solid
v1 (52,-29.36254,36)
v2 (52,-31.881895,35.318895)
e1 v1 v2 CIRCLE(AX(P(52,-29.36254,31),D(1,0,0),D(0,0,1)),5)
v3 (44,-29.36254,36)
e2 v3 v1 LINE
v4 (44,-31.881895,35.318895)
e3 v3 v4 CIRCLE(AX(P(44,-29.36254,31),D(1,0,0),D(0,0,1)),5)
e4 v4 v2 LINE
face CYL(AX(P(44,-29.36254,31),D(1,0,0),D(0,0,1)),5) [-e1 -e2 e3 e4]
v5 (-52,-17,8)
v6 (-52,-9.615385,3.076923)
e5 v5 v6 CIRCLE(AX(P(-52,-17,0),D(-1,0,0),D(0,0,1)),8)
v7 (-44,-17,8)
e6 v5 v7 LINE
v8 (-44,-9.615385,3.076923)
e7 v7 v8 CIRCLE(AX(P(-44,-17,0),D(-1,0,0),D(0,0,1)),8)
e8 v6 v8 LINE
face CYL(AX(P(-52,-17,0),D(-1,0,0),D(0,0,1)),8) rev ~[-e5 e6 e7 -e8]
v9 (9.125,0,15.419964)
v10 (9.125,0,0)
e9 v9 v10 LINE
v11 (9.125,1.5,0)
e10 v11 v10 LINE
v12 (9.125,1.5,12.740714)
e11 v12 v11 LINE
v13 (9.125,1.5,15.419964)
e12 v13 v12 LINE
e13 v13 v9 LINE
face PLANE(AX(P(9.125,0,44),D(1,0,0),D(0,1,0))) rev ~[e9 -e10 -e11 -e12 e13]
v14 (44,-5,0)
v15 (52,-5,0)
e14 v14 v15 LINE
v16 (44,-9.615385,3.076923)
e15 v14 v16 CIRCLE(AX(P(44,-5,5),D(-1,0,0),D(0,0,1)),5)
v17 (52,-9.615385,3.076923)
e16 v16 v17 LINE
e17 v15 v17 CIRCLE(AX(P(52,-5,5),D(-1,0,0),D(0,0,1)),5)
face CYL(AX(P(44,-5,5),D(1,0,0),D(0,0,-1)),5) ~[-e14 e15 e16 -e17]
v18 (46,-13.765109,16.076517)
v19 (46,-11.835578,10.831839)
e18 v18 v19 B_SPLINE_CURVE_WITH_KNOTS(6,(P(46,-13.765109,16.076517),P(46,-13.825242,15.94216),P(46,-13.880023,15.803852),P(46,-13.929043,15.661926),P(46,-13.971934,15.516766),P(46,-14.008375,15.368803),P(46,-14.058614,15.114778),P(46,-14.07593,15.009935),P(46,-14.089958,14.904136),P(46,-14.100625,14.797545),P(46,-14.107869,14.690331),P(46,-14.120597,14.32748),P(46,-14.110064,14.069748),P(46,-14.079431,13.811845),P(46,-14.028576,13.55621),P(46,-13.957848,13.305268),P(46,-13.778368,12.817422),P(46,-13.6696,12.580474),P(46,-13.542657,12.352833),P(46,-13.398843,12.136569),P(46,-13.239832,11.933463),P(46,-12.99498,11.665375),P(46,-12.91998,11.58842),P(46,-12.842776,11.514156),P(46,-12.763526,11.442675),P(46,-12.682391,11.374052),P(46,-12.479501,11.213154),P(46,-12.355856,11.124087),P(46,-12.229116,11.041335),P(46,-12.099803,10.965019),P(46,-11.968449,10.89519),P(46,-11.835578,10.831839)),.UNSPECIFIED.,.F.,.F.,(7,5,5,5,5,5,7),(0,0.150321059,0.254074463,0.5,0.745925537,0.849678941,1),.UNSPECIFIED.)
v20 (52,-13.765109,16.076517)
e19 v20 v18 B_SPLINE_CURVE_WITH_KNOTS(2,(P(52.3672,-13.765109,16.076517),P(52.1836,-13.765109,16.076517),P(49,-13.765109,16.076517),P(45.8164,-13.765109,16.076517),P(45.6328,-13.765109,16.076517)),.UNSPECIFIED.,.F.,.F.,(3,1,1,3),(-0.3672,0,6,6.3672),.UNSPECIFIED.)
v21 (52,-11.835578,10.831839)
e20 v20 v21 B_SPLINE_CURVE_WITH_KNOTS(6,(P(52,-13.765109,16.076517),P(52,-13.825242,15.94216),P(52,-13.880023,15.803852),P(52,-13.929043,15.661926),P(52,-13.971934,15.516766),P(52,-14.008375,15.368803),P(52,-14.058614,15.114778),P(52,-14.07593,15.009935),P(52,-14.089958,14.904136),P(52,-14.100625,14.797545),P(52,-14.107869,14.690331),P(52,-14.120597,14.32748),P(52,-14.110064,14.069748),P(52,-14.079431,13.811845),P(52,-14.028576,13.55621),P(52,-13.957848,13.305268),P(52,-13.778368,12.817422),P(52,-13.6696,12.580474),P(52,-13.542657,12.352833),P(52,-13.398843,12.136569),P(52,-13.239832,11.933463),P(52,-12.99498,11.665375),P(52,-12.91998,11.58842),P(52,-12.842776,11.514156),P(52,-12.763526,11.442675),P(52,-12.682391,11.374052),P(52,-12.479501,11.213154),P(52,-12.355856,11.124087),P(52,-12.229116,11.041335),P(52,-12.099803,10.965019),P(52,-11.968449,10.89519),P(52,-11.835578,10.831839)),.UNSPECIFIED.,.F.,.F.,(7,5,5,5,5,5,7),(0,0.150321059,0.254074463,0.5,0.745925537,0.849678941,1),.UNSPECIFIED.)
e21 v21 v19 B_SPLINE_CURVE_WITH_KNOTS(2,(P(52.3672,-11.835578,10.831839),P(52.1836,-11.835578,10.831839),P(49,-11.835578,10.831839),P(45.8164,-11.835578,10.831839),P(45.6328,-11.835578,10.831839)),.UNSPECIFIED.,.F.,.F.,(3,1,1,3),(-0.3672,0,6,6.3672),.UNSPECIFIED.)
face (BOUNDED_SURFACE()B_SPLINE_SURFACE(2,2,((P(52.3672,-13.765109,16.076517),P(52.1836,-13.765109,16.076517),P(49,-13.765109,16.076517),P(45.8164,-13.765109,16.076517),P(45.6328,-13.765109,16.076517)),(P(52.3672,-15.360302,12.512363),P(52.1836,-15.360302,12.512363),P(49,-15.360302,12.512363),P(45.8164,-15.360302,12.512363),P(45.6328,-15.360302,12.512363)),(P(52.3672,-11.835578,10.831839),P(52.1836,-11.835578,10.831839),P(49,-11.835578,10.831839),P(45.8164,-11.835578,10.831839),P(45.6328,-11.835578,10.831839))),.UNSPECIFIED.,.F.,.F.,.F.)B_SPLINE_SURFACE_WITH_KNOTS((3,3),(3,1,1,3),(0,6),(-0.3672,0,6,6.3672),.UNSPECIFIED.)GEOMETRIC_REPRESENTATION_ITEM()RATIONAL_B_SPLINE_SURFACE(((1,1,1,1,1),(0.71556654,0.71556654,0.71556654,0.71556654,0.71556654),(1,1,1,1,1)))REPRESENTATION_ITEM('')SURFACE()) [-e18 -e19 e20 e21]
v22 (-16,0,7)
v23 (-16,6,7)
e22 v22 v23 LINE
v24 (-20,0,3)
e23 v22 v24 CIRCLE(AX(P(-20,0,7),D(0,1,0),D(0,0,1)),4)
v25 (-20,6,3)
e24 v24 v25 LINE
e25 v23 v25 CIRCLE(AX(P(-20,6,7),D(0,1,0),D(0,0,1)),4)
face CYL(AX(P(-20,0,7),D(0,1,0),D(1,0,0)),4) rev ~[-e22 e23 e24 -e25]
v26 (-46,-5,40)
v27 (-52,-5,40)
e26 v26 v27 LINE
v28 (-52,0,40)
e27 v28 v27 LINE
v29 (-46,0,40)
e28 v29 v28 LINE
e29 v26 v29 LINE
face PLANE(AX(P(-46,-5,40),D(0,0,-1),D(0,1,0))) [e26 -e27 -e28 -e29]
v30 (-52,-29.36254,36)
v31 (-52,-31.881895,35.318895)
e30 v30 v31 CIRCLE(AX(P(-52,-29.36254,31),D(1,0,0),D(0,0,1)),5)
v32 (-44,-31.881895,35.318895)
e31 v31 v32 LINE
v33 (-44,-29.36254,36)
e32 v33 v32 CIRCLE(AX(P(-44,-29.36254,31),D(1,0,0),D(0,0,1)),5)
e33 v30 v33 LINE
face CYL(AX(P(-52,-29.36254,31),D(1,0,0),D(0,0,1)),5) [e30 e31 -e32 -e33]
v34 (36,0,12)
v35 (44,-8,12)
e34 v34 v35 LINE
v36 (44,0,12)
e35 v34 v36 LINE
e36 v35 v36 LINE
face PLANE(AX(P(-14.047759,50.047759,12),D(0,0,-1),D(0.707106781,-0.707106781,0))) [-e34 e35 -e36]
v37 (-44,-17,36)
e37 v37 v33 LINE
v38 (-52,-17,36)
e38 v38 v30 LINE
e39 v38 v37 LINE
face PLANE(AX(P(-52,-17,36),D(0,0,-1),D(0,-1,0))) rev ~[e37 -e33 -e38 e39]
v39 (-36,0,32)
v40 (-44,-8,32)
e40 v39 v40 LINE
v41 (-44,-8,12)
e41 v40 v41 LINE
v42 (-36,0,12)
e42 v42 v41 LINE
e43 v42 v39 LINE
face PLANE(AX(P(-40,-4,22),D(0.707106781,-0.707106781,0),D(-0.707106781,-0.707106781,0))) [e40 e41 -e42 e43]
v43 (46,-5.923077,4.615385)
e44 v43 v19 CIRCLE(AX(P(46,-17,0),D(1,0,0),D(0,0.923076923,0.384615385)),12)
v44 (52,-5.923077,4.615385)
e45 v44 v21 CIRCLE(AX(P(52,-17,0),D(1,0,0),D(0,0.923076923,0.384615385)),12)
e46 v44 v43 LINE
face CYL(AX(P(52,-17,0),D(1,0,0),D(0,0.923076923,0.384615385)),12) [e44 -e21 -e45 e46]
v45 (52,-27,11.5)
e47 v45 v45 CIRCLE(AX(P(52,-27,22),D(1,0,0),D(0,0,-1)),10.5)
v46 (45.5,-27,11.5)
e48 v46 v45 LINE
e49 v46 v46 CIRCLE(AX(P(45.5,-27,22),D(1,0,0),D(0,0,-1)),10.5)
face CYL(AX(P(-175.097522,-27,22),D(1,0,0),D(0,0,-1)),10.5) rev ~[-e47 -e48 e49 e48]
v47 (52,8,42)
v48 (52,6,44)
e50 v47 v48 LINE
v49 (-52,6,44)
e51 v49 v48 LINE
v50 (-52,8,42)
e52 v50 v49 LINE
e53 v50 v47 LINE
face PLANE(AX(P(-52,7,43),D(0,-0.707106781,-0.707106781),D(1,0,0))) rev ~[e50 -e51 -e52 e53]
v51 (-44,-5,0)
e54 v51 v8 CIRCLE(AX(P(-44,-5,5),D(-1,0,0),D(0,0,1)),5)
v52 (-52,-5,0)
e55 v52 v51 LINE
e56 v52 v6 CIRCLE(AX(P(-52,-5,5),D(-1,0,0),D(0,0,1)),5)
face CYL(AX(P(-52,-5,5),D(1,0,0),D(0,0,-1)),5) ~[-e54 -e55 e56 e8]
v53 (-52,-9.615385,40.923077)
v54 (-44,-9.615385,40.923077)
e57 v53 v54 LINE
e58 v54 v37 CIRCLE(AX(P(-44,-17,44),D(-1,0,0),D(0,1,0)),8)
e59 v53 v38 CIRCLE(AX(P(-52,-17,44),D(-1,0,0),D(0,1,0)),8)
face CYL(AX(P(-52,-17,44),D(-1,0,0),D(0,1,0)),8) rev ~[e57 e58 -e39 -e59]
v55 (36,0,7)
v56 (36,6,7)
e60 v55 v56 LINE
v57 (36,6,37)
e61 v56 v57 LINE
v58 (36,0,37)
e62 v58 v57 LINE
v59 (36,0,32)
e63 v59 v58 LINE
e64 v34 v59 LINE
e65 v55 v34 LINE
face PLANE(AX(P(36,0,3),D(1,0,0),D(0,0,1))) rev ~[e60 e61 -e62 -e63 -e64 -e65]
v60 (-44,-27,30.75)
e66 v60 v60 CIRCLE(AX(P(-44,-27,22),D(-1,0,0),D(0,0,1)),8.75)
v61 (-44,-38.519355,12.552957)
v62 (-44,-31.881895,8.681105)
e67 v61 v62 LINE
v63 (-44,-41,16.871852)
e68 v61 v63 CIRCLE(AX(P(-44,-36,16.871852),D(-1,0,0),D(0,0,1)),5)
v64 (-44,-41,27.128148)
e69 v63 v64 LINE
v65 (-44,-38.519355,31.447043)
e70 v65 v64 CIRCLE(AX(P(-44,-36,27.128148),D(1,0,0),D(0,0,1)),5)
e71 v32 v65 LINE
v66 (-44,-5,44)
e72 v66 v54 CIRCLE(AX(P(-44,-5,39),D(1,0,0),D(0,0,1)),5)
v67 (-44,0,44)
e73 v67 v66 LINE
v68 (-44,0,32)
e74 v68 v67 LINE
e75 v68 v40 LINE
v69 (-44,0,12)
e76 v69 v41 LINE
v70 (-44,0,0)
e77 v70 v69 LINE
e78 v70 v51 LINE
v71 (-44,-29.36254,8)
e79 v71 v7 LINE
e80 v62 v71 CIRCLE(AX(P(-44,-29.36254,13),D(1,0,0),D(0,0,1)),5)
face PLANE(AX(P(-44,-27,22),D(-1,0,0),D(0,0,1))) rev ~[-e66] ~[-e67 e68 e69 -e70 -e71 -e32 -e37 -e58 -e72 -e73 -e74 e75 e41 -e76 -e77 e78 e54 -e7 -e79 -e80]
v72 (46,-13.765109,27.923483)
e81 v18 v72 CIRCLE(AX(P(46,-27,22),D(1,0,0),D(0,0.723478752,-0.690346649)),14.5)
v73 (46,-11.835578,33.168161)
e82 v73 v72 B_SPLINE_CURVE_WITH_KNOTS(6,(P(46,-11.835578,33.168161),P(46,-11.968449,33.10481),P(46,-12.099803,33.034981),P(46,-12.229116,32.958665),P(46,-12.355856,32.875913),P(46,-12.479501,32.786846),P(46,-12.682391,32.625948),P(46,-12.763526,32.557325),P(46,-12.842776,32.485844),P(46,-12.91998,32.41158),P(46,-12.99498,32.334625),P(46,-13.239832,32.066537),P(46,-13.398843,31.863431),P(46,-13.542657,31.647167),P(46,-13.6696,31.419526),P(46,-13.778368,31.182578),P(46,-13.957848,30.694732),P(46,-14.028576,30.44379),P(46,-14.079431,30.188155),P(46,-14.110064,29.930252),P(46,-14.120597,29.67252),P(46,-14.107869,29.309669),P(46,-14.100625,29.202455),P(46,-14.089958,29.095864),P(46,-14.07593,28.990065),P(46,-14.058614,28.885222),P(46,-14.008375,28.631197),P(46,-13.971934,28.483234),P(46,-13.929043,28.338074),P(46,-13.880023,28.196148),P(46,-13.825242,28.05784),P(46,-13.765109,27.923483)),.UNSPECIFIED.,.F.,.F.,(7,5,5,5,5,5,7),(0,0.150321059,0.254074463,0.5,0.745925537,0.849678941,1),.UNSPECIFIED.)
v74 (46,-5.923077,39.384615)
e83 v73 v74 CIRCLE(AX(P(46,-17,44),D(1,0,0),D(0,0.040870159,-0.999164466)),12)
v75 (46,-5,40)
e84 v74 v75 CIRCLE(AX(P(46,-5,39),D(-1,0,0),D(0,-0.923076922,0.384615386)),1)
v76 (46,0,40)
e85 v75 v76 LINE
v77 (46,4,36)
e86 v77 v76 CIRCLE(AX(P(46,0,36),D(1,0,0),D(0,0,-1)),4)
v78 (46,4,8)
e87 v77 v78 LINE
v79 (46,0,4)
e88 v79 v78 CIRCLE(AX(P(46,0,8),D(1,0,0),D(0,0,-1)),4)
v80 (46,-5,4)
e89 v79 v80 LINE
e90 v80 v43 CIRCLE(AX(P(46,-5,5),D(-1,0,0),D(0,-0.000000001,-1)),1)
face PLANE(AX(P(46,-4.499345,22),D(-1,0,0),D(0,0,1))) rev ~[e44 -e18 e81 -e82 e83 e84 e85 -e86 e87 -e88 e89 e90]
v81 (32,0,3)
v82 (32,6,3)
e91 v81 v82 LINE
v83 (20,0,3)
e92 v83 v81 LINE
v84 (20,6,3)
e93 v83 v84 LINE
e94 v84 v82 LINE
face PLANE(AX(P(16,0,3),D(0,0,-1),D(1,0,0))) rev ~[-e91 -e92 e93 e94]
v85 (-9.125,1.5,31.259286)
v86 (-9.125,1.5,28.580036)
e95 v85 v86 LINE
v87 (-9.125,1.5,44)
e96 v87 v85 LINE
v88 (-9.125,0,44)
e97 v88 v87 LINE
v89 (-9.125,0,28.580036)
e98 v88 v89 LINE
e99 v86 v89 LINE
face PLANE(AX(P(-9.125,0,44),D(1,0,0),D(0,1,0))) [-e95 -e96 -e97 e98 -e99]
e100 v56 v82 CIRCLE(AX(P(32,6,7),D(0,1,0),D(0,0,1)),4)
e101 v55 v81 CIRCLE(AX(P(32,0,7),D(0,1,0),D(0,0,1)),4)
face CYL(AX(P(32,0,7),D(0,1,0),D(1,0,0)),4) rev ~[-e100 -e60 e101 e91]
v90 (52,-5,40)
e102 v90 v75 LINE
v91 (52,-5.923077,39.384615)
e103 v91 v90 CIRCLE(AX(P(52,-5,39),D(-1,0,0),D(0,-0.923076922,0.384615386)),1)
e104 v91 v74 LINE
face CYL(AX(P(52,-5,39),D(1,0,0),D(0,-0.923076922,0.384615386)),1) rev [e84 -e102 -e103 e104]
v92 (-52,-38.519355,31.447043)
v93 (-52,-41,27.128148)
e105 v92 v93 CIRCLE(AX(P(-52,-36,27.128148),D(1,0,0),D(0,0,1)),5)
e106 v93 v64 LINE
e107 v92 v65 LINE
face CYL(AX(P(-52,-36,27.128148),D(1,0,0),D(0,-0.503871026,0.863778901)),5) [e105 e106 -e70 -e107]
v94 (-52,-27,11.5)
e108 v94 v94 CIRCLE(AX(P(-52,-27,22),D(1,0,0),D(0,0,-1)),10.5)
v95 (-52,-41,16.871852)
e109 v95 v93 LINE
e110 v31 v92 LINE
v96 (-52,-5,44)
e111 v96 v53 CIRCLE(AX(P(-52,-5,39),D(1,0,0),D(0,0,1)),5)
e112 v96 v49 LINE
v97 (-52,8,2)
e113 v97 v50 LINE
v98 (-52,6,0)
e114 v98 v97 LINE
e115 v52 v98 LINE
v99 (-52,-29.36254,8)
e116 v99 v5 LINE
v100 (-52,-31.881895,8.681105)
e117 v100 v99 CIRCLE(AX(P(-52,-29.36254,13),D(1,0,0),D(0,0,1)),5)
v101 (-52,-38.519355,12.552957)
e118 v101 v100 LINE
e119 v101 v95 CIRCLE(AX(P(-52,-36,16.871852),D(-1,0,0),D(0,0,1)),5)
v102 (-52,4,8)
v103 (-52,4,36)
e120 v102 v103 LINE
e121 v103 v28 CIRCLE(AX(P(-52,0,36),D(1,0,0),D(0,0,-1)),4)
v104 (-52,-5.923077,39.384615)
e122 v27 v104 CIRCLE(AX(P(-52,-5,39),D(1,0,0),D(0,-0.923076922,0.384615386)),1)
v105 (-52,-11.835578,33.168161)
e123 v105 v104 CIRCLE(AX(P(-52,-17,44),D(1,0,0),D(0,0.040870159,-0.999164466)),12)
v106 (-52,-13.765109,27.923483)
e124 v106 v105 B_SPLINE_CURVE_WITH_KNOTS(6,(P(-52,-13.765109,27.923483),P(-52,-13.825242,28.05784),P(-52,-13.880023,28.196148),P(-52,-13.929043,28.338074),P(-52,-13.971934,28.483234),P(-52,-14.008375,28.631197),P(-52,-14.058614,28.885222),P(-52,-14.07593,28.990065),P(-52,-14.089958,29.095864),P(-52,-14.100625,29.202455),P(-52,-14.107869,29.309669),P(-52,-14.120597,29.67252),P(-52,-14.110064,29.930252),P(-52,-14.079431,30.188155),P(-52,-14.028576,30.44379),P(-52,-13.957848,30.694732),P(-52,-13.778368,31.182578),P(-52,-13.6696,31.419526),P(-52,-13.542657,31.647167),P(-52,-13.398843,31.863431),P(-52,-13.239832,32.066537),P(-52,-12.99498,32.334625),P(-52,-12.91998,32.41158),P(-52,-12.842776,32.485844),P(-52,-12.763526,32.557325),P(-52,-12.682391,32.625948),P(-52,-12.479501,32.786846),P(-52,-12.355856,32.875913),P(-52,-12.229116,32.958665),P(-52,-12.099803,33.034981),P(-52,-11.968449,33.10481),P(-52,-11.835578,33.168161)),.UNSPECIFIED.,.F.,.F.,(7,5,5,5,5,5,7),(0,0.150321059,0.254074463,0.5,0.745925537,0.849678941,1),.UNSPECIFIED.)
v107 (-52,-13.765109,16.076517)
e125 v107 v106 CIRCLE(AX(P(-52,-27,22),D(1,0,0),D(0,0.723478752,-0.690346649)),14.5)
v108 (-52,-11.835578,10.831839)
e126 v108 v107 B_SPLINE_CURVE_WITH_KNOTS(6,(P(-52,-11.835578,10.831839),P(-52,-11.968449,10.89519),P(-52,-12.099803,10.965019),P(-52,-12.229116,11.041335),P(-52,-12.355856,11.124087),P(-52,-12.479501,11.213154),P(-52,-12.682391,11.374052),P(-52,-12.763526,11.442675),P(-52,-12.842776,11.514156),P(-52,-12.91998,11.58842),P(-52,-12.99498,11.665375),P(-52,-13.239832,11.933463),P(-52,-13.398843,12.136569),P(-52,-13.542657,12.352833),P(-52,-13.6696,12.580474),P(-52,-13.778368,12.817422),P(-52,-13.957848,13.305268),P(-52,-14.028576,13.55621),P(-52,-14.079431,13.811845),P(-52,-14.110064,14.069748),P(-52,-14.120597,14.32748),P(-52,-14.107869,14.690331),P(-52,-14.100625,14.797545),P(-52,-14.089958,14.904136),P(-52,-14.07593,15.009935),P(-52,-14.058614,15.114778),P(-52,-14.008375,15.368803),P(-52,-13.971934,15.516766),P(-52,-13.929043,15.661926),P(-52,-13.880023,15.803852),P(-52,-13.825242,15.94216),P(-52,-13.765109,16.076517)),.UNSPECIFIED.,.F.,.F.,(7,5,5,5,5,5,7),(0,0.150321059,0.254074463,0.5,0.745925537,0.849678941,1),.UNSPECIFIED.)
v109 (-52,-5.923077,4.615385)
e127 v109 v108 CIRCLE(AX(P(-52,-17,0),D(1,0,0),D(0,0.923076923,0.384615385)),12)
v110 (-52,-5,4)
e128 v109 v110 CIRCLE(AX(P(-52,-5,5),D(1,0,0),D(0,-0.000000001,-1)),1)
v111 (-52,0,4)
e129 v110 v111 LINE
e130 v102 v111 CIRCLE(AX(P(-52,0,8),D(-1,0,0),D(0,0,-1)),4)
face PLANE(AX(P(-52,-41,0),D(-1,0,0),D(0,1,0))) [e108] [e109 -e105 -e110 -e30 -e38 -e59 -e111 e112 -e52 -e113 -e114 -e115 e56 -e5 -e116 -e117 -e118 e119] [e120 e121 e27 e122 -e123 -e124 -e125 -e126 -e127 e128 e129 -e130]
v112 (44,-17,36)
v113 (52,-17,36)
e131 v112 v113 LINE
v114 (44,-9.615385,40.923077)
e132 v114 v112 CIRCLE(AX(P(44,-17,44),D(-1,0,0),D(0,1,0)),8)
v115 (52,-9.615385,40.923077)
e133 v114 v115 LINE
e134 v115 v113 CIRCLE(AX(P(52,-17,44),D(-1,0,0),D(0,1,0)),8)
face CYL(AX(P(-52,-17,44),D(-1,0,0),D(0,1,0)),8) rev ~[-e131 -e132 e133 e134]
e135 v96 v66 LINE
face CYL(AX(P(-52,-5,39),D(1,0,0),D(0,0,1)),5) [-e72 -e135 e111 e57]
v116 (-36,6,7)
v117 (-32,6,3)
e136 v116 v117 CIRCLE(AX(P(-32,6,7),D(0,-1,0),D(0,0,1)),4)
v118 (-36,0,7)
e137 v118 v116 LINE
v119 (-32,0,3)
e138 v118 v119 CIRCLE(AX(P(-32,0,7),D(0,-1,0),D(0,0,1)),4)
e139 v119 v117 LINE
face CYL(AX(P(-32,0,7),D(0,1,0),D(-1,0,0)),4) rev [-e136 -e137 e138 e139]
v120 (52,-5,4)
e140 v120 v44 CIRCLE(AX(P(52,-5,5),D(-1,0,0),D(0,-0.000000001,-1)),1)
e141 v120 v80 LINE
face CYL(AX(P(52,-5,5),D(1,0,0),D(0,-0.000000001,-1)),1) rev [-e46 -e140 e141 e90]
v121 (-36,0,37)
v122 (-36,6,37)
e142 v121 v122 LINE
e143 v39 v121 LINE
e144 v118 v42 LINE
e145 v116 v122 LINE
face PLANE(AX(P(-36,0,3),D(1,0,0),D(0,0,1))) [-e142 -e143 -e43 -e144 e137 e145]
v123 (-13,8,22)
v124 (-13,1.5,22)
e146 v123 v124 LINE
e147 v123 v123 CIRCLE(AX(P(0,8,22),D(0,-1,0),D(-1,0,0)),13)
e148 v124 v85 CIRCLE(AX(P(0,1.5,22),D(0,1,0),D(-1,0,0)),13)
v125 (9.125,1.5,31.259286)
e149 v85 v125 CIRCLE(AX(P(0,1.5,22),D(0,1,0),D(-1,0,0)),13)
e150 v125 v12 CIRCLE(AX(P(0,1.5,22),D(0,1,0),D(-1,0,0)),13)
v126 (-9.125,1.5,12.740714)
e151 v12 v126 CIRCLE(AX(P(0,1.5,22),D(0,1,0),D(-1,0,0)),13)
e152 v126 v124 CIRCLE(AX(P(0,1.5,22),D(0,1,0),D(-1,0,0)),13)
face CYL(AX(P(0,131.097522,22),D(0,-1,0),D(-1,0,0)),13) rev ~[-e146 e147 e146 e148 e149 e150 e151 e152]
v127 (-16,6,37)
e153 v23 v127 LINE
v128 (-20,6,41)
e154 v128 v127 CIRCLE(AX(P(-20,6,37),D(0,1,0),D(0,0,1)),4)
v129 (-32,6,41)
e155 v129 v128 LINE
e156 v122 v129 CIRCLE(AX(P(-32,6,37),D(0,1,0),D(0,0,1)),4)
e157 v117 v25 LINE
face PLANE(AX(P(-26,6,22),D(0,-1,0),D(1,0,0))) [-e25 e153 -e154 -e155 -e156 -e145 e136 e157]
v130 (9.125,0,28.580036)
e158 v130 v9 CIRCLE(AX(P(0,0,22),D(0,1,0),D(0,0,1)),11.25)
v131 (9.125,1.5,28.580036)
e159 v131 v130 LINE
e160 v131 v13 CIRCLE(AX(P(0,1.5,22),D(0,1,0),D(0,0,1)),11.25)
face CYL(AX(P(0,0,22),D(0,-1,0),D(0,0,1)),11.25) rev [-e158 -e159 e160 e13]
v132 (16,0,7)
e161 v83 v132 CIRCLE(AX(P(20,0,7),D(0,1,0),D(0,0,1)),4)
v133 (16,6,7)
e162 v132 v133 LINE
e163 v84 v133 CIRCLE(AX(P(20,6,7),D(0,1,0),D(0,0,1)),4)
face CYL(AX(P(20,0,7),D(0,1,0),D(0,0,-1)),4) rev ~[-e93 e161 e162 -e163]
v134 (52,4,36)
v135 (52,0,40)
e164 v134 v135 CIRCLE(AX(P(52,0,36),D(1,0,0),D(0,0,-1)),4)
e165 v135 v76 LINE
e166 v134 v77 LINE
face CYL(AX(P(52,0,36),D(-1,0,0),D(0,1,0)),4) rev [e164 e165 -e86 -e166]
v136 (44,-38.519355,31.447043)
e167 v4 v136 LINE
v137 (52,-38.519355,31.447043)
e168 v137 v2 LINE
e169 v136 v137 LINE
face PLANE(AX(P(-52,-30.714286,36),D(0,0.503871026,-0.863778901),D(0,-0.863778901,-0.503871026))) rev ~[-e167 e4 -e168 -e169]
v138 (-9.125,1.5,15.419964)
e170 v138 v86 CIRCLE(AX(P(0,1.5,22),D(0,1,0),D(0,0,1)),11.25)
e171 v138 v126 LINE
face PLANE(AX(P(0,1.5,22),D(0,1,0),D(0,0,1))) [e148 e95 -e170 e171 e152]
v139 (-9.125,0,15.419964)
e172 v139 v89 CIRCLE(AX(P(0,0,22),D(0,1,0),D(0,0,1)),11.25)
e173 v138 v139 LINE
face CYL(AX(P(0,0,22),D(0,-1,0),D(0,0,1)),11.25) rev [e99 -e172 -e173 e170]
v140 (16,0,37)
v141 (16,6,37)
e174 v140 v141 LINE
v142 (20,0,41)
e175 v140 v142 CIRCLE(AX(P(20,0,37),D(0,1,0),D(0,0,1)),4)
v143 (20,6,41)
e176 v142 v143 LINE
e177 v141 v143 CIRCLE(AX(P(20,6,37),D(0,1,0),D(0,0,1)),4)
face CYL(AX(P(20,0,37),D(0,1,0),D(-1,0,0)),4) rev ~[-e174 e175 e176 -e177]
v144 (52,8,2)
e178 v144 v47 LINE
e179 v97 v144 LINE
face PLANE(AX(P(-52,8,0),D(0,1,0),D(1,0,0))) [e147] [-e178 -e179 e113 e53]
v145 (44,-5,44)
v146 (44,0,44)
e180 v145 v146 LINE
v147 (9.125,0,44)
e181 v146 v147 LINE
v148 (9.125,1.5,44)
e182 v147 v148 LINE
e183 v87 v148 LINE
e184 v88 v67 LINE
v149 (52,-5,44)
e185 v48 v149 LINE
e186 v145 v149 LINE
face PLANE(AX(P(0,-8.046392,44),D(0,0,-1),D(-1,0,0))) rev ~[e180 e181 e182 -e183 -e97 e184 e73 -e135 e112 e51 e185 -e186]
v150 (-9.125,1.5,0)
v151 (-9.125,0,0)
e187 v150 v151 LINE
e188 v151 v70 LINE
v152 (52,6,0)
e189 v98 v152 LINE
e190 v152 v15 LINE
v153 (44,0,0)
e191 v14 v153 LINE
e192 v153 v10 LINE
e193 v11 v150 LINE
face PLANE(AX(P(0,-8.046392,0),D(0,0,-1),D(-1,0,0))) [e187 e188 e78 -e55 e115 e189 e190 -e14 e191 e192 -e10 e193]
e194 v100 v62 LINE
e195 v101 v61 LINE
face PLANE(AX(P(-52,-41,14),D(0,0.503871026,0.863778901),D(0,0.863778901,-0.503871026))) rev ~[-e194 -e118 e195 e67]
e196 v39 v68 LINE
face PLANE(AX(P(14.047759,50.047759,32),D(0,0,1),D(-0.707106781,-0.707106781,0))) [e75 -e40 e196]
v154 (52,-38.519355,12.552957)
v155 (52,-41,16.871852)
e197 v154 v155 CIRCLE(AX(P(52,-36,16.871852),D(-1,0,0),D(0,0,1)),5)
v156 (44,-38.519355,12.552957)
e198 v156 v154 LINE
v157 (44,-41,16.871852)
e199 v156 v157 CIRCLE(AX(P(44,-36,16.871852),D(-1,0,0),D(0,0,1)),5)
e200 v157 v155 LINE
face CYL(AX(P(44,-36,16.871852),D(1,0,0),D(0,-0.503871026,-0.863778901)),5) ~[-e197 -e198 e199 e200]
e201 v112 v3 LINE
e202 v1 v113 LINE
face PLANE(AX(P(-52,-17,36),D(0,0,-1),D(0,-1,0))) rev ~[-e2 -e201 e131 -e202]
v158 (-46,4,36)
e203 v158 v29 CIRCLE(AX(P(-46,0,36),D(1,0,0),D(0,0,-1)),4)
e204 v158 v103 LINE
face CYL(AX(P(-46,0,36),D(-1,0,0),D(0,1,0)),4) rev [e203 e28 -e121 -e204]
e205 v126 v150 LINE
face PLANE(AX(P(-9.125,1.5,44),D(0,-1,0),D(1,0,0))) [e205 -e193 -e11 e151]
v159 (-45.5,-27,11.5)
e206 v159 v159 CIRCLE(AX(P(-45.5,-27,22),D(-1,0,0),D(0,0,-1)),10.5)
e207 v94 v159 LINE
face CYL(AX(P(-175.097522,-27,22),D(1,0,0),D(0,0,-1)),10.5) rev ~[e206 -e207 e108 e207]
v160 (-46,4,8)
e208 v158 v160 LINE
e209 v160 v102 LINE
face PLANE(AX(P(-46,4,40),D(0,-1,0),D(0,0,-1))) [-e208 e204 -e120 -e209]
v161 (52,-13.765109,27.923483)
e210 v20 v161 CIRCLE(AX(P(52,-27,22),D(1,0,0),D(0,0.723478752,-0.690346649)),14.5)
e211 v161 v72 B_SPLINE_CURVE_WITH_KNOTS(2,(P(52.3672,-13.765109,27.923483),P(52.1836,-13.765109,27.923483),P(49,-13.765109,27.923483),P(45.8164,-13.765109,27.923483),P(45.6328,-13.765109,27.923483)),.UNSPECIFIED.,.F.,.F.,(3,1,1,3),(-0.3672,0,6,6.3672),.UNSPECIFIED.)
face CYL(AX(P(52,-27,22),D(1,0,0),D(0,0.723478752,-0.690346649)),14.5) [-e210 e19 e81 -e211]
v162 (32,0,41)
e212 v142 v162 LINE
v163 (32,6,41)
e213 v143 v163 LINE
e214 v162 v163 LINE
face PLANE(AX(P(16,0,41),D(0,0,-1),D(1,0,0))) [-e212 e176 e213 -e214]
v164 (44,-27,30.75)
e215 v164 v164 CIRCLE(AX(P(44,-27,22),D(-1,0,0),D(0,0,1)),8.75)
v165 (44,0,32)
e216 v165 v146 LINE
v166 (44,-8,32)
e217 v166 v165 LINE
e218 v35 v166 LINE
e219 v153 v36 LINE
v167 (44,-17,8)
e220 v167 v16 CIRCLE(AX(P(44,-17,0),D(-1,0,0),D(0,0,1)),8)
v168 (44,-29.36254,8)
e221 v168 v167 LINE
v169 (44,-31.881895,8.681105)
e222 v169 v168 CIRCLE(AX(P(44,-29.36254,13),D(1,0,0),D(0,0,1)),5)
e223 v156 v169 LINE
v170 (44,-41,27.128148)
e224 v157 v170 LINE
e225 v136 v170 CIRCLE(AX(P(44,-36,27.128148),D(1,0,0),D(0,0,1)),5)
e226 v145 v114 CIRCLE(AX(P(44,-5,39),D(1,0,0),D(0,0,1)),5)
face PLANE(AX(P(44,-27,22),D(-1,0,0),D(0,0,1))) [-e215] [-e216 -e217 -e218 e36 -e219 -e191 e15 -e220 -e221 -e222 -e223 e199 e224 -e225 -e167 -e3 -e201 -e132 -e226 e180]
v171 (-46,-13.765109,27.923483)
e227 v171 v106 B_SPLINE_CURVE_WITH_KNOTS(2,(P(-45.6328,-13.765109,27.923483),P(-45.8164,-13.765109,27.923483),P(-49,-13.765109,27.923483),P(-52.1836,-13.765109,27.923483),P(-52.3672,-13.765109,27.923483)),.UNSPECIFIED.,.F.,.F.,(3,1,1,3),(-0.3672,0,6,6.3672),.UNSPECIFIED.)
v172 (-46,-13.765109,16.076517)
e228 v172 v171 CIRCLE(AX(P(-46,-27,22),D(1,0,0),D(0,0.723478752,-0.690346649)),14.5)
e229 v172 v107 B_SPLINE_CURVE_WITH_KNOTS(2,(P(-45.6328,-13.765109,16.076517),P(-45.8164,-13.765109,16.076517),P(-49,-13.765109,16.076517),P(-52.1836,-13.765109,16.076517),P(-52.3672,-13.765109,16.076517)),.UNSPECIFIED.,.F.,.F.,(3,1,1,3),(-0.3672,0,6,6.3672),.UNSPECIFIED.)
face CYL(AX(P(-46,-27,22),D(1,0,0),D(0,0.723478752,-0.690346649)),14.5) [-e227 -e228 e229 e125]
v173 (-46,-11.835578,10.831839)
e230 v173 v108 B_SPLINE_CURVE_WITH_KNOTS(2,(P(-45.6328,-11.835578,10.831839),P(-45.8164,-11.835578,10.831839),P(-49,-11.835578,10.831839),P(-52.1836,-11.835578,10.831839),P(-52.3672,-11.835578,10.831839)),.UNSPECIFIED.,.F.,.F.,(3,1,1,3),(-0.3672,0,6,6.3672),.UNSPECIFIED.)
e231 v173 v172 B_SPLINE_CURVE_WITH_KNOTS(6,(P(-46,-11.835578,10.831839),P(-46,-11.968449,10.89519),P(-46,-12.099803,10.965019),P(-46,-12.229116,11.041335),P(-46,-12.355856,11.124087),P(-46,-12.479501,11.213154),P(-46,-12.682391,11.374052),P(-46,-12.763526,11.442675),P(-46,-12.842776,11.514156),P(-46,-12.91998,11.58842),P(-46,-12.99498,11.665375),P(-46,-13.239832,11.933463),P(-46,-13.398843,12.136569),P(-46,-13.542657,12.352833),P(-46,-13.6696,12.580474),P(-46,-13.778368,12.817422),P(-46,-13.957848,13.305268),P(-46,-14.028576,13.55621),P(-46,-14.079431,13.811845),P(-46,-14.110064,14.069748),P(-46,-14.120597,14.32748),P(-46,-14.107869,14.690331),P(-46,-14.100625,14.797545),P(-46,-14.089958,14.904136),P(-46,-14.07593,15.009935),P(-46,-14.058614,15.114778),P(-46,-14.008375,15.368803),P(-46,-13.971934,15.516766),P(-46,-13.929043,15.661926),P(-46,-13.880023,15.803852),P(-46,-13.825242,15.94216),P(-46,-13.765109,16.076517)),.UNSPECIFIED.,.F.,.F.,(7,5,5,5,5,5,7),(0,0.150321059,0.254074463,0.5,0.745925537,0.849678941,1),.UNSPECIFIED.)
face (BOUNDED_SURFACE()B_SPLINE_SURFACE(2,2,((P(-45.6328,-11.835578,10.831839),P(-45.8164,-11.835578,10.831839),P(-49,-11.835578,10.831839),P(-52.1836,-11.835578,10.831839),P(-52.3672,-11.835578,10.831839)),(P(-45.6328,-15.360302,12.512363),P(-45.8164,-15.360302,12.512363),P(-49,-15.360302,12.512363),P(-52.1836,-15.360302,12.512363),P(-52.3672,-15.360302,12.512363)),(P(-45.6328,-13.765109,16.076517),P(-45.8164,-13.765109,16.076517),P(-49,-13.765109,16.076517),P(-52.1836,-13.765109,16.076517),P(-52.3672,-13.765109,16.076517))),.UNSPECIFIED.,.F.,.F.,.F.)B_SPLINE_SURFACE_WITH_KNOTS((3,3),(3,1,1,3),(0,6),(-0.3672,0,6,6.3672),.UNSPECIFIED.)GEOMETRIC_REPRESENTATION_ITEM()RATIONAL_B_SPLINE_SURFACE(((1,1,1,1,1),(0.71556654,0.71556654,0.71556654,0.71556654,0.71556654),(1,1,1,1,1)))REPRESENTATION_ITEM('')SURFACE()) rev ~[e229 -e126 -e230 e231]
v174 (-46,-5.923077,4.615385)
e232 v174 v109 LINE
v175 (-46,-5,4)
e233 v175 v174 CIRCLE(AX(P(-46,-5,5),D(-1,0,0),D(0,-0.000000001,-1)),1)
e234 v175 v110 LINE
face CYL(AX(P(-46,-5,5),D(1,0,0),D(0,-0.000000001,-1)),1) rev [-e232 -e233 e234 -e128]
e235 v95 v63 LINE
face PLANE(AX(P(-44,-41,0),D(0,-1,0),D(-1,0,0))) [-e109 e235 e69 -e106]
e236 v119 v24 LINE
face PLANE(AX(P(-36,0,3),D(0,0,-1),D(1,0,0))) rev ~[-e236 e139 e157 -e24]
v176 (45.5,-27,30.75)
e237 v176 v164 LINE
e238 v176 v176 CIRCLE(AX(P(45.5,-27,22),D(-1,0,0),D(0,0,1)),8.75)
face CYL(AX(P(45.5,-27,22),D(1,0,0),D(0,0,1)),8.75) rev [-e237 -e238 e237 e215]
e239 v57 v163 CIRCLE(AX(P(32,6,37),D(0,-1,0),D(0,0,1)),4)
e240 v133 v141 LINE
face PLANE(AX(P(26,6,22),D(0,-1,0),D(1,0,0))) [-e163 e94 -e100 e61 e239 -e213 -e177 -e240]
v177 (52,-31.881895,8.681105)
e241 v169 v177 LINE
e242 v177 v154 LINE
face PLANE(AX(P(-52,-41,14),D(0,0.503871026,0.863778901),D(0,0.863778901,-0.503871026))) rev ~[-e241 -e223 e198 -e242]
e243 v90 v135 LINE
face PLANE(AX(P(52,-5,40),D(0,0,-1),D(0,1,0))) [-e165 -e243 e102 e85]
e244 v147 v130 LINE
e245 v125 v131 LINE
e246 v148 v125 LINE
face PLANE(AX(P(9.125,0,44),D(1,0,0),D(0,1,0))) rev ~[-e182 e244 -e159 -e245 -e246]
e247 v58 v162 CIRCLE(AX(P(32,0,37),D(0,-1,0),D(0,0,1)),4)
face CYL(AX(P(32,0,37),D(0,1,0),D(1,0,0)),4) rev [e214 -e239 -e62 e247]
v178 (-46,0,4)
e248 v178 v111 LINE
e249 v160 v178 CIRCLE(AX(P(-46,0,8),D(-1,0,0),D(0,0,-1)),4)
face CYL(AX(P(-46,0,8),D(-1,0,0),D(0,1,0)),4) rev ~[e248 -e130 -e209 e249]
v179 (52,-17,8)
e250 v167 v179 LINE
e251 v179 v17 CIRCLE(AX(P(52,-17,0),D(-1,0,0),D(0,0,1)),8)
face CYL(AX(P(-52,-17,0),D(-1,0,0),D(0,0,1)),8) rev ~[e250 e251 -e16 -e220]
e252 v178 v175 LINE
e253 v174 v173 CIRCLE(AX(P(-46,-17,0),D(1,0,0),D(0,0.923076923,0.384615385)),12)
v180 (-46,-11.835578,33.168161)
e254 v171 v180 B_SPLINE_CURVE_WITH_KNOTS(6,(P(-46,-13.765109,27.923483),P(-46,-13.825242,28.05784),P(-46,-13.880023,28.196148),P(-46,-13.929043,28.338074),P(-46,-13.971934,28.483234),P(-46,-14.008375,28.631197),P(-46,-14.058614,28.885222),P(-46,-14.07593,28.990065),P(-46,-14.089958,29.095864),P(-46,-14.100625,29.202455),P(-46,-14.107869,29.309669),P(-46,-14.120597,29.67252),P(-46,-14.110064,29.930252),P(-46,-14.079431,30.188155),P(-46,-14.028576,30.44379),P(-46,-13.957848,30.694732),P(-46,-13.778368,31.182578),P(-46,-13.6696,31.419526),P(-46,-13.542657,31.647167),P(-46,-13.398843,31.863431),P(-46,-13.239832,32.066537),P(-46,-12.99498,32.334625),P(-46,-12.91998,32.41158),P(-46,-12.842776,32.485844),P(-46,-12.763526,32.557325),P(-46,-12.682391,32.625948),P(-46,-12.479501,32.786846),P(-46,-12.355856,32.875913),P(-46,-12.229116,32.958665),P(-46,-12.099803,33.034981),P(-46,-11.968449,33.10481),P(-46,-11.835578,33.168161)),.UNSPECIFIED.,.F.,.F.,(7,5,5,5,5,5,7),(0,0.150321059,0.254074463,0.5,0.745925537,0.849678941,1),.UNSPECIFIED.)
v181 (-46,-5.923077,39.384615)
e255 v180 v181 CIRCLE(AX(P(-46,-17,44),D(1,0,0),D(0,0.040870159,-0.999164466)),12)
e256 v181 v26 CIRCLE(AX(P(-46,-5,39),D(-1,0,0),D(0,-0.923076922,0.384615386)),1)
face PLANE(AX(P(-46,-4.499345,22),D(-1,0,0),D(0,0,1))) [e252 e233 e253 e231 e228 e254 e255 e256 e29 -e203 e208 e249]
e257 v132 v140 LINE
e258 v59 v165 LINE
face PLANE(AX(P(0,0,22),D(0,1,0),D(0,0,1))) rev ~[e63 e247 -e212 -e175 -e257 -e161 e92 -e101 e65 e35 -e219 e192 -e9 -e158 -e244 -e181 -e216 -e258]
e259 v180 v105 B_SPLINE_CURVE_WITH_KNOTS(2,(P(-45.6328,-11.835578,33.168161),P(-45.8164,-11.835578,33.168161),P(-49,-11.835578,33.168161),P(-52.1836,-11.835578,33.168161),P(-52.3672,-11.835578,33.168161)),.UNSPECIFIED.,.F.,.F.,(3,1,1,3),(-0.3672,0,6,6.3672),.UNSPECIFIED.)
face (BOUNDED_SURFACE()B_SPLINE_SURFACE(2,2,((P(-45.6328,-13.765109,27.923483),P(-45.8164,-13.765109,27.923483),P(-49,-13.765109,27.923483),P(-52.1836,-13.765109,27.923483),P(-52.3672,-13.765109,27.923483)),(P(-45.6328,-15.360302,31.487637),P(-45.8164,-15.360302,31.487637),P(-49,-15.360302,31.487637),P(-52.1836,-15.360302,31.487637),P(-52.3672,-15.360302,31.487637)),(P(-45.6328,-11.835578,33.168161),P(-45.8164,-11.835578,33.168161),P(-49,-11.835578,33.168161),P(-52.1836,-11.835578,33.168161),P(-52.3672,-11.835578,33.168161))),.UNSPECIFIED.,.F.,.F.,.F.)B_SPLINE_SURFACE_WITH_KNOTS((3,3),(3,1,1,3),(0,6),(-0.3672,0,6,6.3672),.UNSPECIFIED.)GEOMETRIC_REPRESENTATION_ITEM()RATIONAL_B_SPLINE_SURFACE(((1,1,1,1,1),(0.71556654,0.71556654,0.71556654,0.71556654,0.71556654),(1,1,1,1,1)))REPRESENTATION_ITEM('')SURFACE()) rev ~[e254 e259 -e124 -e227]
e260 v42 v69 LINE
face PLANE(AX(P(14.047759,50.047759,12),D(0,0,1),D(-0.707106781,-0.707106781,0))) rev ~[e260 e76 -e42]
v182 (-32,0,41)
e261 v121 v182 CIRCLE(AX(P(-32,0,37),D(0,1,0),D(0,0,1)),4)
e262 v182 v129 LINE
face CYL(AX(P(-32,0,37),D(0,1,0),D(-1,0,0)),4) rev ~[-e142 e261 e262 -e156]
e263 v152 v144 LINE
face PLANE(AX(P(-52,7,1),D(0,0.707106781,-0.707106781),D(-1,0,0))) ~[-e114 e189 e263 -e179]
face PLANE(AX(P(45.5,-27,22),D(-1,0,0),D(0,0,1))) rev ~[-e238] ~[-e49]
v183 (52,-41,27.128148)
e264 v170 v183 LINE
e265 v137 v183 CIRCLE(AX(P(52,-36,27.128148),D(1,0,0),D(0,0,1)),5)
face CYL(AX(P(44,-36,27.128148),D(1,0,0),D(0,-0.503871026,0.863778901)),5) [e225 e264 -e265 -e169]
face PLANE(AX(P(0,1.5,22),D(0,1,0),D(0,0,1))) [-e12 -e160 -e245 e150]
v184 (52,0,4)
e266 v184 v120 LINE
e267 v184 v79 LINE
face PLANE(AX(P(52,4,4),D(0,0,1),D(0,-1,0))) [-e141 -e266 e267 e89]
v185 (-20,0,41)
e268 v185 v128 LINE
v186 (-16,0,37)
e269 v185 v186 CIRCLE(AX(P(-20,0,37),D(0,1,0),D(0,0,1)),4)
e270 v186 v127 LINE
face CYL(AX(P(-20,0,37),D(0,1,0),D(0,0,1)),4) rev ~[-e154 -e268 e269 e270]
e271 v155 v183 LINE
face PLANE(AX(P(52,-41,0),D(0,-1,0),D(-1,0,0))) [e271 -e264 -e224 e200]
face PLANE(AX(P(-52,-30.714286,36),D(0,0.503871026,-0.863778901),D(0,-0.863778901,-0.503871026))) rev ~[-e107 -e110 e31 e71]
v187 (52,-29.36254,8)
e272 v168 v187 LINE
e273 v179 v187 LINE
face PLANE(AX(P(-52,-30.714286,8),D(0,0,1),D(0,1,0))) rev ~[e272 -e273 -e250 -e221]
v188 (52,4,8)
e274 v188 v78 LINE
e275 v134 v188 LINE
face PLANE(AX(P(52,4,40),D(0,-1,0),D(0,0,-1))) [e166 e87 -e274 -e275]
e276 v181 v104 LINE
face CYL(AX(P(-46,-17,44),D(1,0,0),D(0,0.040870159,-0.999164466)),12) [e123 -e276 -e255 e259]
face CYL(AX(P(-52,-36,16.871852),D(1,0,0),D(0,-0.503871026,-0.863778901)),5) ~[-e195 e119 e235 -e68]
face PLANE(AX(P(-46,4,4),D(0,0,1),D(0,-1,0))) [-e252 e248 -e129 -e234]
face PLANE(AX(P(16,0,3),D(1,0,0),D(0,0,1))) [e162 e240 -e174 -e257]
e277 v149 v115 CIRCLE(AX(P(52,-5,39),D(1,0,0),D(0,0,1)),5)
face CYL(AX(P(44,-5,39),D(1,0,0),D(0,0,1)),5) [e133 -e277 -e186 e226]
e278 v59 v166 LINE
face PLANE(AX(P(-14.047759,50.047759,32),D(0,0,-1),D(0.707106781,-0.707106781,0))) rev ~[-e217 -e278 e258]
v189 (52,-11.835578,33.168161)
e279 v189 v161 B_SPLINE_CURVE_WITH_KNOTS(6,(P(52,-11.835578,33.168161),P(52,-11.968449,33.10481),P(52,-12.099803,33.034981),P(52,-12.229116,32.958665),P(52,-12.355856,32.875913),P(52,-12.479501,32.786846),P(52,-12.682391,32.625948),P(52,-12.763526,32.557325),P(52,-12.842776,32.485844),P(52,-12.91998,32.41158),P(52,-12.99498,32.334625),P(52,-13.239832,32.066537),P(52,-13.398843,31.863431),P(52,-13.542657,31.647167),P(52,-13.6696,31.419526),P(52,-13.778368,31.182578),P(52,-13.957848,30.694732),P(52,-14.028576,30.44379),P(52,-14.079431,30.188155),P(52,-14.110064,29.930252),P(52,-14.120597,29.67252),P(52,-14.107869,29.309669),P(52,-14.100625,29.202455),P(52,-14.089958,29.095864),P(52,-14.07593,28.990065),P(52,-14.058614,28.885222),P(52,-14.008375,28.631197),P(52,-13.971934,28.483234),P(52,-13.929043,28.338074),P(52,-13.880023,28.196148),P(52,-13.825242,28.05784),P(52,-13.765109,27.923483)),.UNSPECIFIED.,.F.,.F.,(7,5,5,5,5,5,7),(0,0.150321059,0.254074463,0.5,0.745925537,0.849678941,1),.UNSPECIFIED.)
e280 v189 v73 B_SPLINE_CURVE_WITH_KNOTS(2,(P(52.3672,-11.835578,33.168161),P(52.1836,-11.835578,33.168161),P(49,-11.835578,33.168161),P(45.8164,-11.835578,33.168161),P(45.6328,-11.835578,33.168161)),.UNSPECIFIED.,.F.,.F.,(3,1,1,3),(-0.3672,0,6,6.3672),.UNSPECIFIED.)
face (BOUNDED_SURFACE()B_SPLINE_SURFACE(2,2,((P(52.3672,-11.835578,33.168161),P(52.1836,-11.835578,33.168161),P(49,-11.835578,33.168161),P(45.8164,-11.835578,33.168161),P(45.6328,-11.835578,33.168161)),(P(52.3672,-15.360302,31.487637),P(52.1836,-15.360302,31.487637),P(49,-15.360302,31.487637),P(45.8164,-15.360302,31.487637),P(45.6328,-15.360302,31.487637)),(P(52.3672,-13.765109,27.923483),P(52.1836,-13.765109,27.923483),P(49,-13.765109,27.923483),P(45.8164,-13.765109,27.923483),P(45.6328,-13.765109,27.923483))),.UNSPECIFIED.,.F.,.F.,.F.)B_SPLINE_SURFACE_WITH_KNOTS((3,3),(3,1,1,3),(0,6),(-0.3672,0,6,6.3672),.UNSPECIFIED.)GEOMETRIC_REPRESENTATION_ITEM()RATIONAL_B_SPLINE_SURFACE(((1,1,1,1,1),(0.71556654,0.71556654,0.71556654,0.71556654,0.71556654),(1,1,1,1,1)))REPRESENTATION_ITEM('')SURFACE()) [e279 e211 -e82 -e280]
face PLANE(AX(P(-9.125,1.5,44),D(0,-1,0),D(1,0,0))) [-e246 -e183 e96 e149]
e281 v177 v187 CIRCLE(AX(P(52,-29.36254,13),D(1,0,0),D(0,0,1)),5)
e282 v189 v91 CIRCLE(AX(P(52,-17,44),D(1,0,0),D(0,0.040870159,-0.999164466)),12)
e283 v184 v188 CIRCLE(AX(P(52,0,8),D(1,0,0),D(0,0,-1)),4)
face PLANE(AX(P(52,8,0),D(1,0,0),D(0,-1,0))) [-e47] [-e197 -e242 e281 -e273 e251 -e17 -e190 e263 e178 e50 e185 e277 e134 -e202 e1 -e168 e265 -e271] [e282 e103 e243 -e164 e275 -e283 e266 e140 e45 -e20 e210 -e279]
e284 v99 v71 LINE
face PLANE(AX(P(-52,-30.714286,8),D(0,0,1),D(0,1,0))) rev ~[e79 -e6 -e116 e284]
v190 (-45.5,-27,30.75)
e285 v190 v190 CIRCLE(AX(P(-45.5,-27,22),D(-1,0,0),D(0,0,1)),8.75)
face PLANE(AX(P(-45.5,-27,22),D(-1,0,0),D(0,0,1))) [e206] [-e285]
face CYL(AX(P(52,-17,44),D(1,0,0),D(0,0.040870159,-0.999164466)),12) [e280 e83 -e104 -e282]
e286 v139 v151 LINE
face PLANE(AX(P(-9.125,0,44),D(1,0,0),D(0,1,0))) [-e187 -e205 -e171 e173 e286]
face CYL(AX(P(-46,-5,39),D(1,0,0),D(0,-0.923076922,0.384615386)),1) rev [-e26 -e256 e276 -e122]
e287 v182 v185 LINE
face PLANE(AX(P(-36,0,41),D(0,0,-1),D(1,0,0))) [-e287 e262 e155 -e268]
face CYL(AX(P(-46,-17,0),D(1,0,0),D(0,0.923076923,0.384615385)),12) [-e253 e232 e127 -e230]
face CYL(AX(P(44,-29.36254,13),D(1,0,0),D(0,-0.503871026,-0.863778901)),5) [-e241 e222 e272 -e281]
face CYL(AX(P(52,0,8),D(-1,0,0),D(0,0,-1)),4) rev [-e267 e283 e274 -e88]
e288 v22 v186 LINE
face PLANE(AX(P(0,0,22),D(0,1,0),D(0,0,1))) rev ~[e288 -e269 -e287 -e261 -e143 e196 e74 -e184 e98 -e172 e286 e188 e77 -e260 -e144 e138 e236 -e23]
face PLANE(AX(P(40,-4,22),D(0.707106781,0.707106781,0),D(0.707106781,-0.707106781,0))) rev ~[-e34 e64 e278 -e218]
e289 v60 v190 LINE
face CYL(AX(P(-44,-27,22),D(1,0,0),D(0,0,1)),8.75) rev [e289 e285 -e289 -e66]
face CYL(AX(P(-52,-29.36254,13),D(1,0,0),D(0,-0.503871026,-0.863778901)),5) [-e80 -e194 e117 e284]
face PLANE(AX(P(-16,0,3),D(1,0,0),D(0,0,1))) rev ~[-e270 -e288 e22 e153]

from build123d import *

# Parameters (mm, degrees)
BOSS_EXTRUDE1_DEPTH        = 44
F_21_0_21_DIAMETER_HOLE1_D = 21
F_26_0_26_DIAMETER_HOLE1_D = 26
BOSS_EXTRUDE2_START        = -1.5
SKETCH9_R                  = 10.5
SKETCH9_R_2                = 8.75
BOSS_EXTRUDE2_DEPTH        = 1.5
BOSS_EXTRUDE3_START        = 88
SKETCH9_2_R                = 10.5
SKETCH9_2_R_2              = 8.75
BOSS_EXTRUDE3_DEPTH        = 1.5
SKETCH16_R                 = 13
SKETCH16_R_2               = 11.25
BOSS_EXTRUDE4_DEPTH        = 1.5
SKETCH17_W                 = 18.25
SKETCH17_H                 = 1.5
CUT_EXTRUDE1_DEPTH         = 80.504716841
CUT_EXTRUDE3_DEPTH         = 121.137421314
FILLET3_R                  = 5
RIB1_REACH                 = 71.778
SKETCH20_WALL_W            = 152.870148694
SKETCH20_WALL_H            = 20
RIB2_REACH                 = 71.778
SKETCH21_WALL_W            = 152.870148694
SKETCH21_WALL_H            = 20
SKETCH22_W                 = 20
SKETCH22_H                 = 38
CUT_EXTRUDE4_DEPTH         = 6
CUT_EXTRUDE5_DEPTH         = 121.137421314
CUT_EXTRUDE5_DEPTH_BACK    = 6
CUT_EXTRUDE6_START         = -104
CUT_EXTRUDE6_DEPTH         = 6
FILLET4_R                  = 4
CHAMFER1_SIZE              = 2


with BuildPart() as part:
    # Sketch1 → Boss-Extrude1 (new body)
    with BuildSketch(Plane.XY):
        Polygon((44, 0), (-44, 0), (-44, -41), (-52, -41), (-52, 8), (52, 8), (52, -41), (44, -41), align=None)
    extrude(amount=BOSS_EXTRUDE1_DEPTH)

    # Ø21.0 (21) Diameter Hole1 (through all)
    with Locations(Plane.ZY.offset(52)):
        with Locations((22, -27)):
            Hole(F_21_0_21_DIAMETER_HOLE1_D / 2)

    # Ø26.0 (26) Diameter Hole1 (through all)
    with Locations(Plane(origin=(0, 8, 0), x_dir=(1, 0, 0), z_dir=(0, 1, 0))):
        with Locations((0, -22)):
            Hole(F_26_0_26_DIAMETER_HOLE1_D / 2)

    # Sketch9 → Boss-Extrude2 (add)
    with BuildSketch(Plane.ZY.offset(-44).offset(BOSS_EXTRUDE2_START)):
        with Locations((22, -27)):
            Circle(SKETCH9_R)
        with Locations((22, -27)):
            Circle(SKETCH9_R_2, mode=Mode.SUBTRACT)
    extrude(amount=BOSS_EXTRUDE2_DEPTH)

    # Sketch9<2> → Boss-Extrude3 (add)
    with BuildSketch(Plane.ZY.offset(-44).offset(BOSS_EXTRUDE3_START)):
        with Locations((22, -27)):
            Circle(SKETCH9_2_R)
        with Locations((22, -27)):
            Circle(SKETCH9_2_R_2, mode=Mode.SUBTRACT)
    extrude(amount=BOSS_EXTRUDE3_DEPTH)

    # Sketch16 → Boss-Extrude4 (add)
    with BuildSketch(Plane(origin=(0, 0, 0), x_dir=(1, 0, 0), z_dir=(0, 1, 0))):
        with Locations(Location((0, -22, 0), (0, 0, 270))):
            Circle(SKETCH16_R)
        with Locations(Location((0, -22, 0), (0, 0, 270))):
            Circle(SKETCH16_R_2, mode=Mode.SUBTRACT)
    extrude(amount=BOSS_EXTRUDE4_DEPTH)

    # Sketch17 → Cut-Extrude1 (cut, through all)
    with BuildSketch(Plane.XY.offset(44)):
        with Locations((0, 0.75)):
            Rectangle(SKETCH17_W, SKETCH17_H)
    extrude(amount=-CUT_EXTRUDE1_DEPTH, mode=Mode.SUBTRACT)

    # Sketch19 → Cut-Extrude3 (cut, through all)
    with BuildSketch(Plane.ZY.offset(52)):
        with BuildLine():
            ThreePointArc((0, -25), (2.087839834, -24.722753708), (4.030968204, -23.910231207))
            Line((4.030968204, -23.910231207), (0, -17))
            Line((0, -17), (0, -25))
        make_face()
        with BuildLine():
            Line((0, -17), (4.030968204, -23.910231207))
            ThreePointArc((4.030968204, -23.910231207), (6.937137221, -20.984485812), (8, -17))
            ThreePointArc((8, -17), (5.656854249, -11.343145751), (0, -9))
            Line((0, -9), (0, -17))
        make_face()
        with BuildLine():
            Line((14, -41), (8, -30.714285714))
            Line((8, -30.714285714), (4.030968204, -23.910231207))
            ThreePointArc((4.030968204, -23.910231207), (2.087839834, -24.722753708), (0, -25))
            Line((0, -25), (0, -41))
            Line((0, -41), (14, -41))
        make_face()
        with BuildLine():
            Line((4.030968204, -23.910231207), (8, -30.714285714))
            Line((8, -30.714285714), (8, -17))
            ThreePointArc((8, -17), (6.937137221, -20.984485812), (4.030968204, -23.910231207))
        make_face()
        with BuildLine():
            Line((36, -17), (36, -30.714285714))
            Line((36, -30.714285714), (39.969031796, -23.910231207))
            ThreePointArc((39.969031796, -23.910231207), (37.062862779, -20.984485812), (36, -17))
        make_face()
        with BuildLine():
            ThreePointArc((39.969031796, -23.910231207), (41.912160166, -24.722753708), (44, -25))
            Line((44, -25), (44, -17))
            Line((44, -17), (39.969031796, -23.910231207))
        make_face()
        with BuildLine():
            ThreePointArc((44, -9), (38.343145751, -11.343145751), (36, -17))
            ThreePointArc((36, -17), (37.062862779, -20.984485812), (39.969031796, -23.910231207))
            Line((39.969031796, -23.910231207), (44, -17))
            Line((44, -17), (44, -9))
        make_face()
        with BuildLine():
            Line((36, -30.714285714), (30, -41))
            Line((30, -41), (44, -41))
            Line((44, -41), (44, -25))
            ThreePointArc((44, -25), (41.912160166, -24.722753708), (39.969031796, -23.910231207))
            Line((39.969031796, -23.910231207), (36, -30.714285714))
        make_face()
    extrude(amount=-CUT_EXTRUDE3_DEPTH, mode=Mode.SUBTRACT)

    # Fillet3
    fillet3_edges = [part.edges().sort_by_distance(p)[0] for p in [
        (48, -9, 0),
        (-48, -9, 0),
        (-48, -9, 44),
        (48, -9, 44),
        (-48, -30.714285714, 36),
        (48, -30.714285714, 36),
        (-48, -41, 30),
        (48, -41, 30),
        (-48, -30.714285714, 8),
        (48, -30.714285714, 8),
        (-48, -41, 14),
        (48, -41, 14),
    ]]
    fillet(fillet3_edges, radius=FILLET3_R)

    # Sketch20 wall → Rib1 (add, up to next)
    with BuildSketch(Plane(origin=(-40, -4, 22), x_dir=(-0.707106781187, -0.707106781187, 0), z_dir=(0.707106781187, -0.707106781187, 0)), mode=Mode.PRIVATE) as rib1_sk1:
        Rectangle(SKETCH20_WALL_W, SKETCH20_WALL_H)
    rib1_tool1 = extrude(rib1_sk1.sketch, amount=-RIB1_REACH, mode=Mode.PRIVATE) - part.part
    add(rib1_tool1.solids().sort_by_distance((-40, -4, 22))[0])

    # Sketch21 wall → Rib2 (add, up to next)
    with BuildSketch(Plane(origin=(40, -4, 22), x_dir=(0.707106781187, -0.707106781187, 0), z_dir=(0.707106781187, 0.707106781187, 0)), mode=Mode.PRIVATE) as rib2_sk1:
        Rectangle(SKETCH21_WALL_W, SKETCH21_WALL_H)
    rib2_tool1 = extrude(rib2_sk1.sketch, amount=RIB2_REACH, mode=Mode.PRIVATE) - part.part
    add(rib2_tool1.solids().sort_by_distance((40, -4, 22))[0])

    # Sketch22 → Cut-Extrude4 (cut)
    with BuildSketch(Plane.XZ):
        with Locations((-26, 22)):
            Rectangle(SKETCH22_W, SKETCH22_H)
        with Locations((26, 22)):
            Rectangle(SKETCH22_W, SKETCH22_H)
    extrude(amount=-CUT_EXTRUDE4_DEPTH, mode=Mode.SUBTRACT)

    # Sketch23 → Cut-Extrude5 (cut, two sides: drawn at the far end of the back side and taken through both)
    with BuildSketch(Plane.ZY.offset(52).offset(-CUT_EXTRUDE5_DEPTH_BACK)):
        with BuildLine():
            Line((40, -5), (40, 4))
            Line((40, 4), (4, 4))
            Line((4, 4), (4, -5))
            ThreePointArc((4, -5), (4.167949706, -5.554700196), (4.615384615, -5.923076923))
            ThreePointArc((4.615384615, -5.923076923), (9.846465163, -10.140909405), (11.989973592, -16.509558097))
            ThreePointArc((11.989973592, -16.509558097), (22, -12.5), (32.010026408, -16.509558097))
            ThreePointArc((32.010026408, -16.509558097), (34.153534837, -10.140909405), (39.384615385, -5.923076923))
            ThreePointArc((39.384615385, -5.923076923), (39.832050294, -5.554700196), (40, -5))
        make_face()
    extrude(amount=CUT_EXTRUDE5_DEPTH + CUT_EXTRUDE5_DEPTH_BACK, mode=Mode.SUBTRACT)

    # Sketch23<3> → Cut-Extrude6 (cut)
    with BuildSketch(Plane.ZY.offset(52).offset(CUT_EXTRUDE6_START)):
        with BuildLine():
            Line((40, -5), (40, 4))
            Line((40, 4), (4, 4))
            Line((4, 4), (4, -5))
            ThreePointArc((4, -5), (4.167949706, -5.554700196), (4.615384615, -5.923076923))
            ThreePointArc((4.615384615, -5.923076923), (9.846465163, -10.140909405), (11.989973592, -16.509558097))
            ThreePointArc((11.989973592, -16.509558097), (22, -12.5), (32.010026408, -16.509558097))
            ThreePointArc((32.010026408, -16.509558097), (34.153534837, -10.140909405), (39.384615385, -5.923076923))
            ThreePointArc((39.384615385, -5.923076923), (39.832050294, -5.554700196), (40, -5))
        make_face()
    extrude(amount=CUT_EXTRUDE6_DEPTH, mode=Mode.SUBTRACT)

    # Fillet4
    fillet4_edges = [part.edges().sort_by_distance(p)[0] for p in [
        (-49, -16.509558097, 11.989973592),
        (-49, -16.509558097, 32.010026408),
        (49, -16.509558097, 32.010026408),
        (49, -16.509558097, 11.989973592),
        (49, 4, 4),
        (49, 4, 40),
        (-49, 4, 40),
        (-49, 4, 4),
        (36, 3, 3),
        (-16, 3, 3),
        (36, 3, 41),
        (-16, 3, 41),
        (-36, 3, 3),
        (16, 3, 3),
        (16, 3, 41),
        (-36, 3, 41),
    ]]
    fillet(fillet4_edges, radius=FILLET4_R)

    # Chamfer1
    chamfer1_edges = [part.edges().sort_by_distance(p)[0] for p in [
        (0, 8, 44),
        (0, 8, 0),
    ]]
    chamfer(chamfer1_edges, length=CHAMFER1_SIZE)


solid = part.part
